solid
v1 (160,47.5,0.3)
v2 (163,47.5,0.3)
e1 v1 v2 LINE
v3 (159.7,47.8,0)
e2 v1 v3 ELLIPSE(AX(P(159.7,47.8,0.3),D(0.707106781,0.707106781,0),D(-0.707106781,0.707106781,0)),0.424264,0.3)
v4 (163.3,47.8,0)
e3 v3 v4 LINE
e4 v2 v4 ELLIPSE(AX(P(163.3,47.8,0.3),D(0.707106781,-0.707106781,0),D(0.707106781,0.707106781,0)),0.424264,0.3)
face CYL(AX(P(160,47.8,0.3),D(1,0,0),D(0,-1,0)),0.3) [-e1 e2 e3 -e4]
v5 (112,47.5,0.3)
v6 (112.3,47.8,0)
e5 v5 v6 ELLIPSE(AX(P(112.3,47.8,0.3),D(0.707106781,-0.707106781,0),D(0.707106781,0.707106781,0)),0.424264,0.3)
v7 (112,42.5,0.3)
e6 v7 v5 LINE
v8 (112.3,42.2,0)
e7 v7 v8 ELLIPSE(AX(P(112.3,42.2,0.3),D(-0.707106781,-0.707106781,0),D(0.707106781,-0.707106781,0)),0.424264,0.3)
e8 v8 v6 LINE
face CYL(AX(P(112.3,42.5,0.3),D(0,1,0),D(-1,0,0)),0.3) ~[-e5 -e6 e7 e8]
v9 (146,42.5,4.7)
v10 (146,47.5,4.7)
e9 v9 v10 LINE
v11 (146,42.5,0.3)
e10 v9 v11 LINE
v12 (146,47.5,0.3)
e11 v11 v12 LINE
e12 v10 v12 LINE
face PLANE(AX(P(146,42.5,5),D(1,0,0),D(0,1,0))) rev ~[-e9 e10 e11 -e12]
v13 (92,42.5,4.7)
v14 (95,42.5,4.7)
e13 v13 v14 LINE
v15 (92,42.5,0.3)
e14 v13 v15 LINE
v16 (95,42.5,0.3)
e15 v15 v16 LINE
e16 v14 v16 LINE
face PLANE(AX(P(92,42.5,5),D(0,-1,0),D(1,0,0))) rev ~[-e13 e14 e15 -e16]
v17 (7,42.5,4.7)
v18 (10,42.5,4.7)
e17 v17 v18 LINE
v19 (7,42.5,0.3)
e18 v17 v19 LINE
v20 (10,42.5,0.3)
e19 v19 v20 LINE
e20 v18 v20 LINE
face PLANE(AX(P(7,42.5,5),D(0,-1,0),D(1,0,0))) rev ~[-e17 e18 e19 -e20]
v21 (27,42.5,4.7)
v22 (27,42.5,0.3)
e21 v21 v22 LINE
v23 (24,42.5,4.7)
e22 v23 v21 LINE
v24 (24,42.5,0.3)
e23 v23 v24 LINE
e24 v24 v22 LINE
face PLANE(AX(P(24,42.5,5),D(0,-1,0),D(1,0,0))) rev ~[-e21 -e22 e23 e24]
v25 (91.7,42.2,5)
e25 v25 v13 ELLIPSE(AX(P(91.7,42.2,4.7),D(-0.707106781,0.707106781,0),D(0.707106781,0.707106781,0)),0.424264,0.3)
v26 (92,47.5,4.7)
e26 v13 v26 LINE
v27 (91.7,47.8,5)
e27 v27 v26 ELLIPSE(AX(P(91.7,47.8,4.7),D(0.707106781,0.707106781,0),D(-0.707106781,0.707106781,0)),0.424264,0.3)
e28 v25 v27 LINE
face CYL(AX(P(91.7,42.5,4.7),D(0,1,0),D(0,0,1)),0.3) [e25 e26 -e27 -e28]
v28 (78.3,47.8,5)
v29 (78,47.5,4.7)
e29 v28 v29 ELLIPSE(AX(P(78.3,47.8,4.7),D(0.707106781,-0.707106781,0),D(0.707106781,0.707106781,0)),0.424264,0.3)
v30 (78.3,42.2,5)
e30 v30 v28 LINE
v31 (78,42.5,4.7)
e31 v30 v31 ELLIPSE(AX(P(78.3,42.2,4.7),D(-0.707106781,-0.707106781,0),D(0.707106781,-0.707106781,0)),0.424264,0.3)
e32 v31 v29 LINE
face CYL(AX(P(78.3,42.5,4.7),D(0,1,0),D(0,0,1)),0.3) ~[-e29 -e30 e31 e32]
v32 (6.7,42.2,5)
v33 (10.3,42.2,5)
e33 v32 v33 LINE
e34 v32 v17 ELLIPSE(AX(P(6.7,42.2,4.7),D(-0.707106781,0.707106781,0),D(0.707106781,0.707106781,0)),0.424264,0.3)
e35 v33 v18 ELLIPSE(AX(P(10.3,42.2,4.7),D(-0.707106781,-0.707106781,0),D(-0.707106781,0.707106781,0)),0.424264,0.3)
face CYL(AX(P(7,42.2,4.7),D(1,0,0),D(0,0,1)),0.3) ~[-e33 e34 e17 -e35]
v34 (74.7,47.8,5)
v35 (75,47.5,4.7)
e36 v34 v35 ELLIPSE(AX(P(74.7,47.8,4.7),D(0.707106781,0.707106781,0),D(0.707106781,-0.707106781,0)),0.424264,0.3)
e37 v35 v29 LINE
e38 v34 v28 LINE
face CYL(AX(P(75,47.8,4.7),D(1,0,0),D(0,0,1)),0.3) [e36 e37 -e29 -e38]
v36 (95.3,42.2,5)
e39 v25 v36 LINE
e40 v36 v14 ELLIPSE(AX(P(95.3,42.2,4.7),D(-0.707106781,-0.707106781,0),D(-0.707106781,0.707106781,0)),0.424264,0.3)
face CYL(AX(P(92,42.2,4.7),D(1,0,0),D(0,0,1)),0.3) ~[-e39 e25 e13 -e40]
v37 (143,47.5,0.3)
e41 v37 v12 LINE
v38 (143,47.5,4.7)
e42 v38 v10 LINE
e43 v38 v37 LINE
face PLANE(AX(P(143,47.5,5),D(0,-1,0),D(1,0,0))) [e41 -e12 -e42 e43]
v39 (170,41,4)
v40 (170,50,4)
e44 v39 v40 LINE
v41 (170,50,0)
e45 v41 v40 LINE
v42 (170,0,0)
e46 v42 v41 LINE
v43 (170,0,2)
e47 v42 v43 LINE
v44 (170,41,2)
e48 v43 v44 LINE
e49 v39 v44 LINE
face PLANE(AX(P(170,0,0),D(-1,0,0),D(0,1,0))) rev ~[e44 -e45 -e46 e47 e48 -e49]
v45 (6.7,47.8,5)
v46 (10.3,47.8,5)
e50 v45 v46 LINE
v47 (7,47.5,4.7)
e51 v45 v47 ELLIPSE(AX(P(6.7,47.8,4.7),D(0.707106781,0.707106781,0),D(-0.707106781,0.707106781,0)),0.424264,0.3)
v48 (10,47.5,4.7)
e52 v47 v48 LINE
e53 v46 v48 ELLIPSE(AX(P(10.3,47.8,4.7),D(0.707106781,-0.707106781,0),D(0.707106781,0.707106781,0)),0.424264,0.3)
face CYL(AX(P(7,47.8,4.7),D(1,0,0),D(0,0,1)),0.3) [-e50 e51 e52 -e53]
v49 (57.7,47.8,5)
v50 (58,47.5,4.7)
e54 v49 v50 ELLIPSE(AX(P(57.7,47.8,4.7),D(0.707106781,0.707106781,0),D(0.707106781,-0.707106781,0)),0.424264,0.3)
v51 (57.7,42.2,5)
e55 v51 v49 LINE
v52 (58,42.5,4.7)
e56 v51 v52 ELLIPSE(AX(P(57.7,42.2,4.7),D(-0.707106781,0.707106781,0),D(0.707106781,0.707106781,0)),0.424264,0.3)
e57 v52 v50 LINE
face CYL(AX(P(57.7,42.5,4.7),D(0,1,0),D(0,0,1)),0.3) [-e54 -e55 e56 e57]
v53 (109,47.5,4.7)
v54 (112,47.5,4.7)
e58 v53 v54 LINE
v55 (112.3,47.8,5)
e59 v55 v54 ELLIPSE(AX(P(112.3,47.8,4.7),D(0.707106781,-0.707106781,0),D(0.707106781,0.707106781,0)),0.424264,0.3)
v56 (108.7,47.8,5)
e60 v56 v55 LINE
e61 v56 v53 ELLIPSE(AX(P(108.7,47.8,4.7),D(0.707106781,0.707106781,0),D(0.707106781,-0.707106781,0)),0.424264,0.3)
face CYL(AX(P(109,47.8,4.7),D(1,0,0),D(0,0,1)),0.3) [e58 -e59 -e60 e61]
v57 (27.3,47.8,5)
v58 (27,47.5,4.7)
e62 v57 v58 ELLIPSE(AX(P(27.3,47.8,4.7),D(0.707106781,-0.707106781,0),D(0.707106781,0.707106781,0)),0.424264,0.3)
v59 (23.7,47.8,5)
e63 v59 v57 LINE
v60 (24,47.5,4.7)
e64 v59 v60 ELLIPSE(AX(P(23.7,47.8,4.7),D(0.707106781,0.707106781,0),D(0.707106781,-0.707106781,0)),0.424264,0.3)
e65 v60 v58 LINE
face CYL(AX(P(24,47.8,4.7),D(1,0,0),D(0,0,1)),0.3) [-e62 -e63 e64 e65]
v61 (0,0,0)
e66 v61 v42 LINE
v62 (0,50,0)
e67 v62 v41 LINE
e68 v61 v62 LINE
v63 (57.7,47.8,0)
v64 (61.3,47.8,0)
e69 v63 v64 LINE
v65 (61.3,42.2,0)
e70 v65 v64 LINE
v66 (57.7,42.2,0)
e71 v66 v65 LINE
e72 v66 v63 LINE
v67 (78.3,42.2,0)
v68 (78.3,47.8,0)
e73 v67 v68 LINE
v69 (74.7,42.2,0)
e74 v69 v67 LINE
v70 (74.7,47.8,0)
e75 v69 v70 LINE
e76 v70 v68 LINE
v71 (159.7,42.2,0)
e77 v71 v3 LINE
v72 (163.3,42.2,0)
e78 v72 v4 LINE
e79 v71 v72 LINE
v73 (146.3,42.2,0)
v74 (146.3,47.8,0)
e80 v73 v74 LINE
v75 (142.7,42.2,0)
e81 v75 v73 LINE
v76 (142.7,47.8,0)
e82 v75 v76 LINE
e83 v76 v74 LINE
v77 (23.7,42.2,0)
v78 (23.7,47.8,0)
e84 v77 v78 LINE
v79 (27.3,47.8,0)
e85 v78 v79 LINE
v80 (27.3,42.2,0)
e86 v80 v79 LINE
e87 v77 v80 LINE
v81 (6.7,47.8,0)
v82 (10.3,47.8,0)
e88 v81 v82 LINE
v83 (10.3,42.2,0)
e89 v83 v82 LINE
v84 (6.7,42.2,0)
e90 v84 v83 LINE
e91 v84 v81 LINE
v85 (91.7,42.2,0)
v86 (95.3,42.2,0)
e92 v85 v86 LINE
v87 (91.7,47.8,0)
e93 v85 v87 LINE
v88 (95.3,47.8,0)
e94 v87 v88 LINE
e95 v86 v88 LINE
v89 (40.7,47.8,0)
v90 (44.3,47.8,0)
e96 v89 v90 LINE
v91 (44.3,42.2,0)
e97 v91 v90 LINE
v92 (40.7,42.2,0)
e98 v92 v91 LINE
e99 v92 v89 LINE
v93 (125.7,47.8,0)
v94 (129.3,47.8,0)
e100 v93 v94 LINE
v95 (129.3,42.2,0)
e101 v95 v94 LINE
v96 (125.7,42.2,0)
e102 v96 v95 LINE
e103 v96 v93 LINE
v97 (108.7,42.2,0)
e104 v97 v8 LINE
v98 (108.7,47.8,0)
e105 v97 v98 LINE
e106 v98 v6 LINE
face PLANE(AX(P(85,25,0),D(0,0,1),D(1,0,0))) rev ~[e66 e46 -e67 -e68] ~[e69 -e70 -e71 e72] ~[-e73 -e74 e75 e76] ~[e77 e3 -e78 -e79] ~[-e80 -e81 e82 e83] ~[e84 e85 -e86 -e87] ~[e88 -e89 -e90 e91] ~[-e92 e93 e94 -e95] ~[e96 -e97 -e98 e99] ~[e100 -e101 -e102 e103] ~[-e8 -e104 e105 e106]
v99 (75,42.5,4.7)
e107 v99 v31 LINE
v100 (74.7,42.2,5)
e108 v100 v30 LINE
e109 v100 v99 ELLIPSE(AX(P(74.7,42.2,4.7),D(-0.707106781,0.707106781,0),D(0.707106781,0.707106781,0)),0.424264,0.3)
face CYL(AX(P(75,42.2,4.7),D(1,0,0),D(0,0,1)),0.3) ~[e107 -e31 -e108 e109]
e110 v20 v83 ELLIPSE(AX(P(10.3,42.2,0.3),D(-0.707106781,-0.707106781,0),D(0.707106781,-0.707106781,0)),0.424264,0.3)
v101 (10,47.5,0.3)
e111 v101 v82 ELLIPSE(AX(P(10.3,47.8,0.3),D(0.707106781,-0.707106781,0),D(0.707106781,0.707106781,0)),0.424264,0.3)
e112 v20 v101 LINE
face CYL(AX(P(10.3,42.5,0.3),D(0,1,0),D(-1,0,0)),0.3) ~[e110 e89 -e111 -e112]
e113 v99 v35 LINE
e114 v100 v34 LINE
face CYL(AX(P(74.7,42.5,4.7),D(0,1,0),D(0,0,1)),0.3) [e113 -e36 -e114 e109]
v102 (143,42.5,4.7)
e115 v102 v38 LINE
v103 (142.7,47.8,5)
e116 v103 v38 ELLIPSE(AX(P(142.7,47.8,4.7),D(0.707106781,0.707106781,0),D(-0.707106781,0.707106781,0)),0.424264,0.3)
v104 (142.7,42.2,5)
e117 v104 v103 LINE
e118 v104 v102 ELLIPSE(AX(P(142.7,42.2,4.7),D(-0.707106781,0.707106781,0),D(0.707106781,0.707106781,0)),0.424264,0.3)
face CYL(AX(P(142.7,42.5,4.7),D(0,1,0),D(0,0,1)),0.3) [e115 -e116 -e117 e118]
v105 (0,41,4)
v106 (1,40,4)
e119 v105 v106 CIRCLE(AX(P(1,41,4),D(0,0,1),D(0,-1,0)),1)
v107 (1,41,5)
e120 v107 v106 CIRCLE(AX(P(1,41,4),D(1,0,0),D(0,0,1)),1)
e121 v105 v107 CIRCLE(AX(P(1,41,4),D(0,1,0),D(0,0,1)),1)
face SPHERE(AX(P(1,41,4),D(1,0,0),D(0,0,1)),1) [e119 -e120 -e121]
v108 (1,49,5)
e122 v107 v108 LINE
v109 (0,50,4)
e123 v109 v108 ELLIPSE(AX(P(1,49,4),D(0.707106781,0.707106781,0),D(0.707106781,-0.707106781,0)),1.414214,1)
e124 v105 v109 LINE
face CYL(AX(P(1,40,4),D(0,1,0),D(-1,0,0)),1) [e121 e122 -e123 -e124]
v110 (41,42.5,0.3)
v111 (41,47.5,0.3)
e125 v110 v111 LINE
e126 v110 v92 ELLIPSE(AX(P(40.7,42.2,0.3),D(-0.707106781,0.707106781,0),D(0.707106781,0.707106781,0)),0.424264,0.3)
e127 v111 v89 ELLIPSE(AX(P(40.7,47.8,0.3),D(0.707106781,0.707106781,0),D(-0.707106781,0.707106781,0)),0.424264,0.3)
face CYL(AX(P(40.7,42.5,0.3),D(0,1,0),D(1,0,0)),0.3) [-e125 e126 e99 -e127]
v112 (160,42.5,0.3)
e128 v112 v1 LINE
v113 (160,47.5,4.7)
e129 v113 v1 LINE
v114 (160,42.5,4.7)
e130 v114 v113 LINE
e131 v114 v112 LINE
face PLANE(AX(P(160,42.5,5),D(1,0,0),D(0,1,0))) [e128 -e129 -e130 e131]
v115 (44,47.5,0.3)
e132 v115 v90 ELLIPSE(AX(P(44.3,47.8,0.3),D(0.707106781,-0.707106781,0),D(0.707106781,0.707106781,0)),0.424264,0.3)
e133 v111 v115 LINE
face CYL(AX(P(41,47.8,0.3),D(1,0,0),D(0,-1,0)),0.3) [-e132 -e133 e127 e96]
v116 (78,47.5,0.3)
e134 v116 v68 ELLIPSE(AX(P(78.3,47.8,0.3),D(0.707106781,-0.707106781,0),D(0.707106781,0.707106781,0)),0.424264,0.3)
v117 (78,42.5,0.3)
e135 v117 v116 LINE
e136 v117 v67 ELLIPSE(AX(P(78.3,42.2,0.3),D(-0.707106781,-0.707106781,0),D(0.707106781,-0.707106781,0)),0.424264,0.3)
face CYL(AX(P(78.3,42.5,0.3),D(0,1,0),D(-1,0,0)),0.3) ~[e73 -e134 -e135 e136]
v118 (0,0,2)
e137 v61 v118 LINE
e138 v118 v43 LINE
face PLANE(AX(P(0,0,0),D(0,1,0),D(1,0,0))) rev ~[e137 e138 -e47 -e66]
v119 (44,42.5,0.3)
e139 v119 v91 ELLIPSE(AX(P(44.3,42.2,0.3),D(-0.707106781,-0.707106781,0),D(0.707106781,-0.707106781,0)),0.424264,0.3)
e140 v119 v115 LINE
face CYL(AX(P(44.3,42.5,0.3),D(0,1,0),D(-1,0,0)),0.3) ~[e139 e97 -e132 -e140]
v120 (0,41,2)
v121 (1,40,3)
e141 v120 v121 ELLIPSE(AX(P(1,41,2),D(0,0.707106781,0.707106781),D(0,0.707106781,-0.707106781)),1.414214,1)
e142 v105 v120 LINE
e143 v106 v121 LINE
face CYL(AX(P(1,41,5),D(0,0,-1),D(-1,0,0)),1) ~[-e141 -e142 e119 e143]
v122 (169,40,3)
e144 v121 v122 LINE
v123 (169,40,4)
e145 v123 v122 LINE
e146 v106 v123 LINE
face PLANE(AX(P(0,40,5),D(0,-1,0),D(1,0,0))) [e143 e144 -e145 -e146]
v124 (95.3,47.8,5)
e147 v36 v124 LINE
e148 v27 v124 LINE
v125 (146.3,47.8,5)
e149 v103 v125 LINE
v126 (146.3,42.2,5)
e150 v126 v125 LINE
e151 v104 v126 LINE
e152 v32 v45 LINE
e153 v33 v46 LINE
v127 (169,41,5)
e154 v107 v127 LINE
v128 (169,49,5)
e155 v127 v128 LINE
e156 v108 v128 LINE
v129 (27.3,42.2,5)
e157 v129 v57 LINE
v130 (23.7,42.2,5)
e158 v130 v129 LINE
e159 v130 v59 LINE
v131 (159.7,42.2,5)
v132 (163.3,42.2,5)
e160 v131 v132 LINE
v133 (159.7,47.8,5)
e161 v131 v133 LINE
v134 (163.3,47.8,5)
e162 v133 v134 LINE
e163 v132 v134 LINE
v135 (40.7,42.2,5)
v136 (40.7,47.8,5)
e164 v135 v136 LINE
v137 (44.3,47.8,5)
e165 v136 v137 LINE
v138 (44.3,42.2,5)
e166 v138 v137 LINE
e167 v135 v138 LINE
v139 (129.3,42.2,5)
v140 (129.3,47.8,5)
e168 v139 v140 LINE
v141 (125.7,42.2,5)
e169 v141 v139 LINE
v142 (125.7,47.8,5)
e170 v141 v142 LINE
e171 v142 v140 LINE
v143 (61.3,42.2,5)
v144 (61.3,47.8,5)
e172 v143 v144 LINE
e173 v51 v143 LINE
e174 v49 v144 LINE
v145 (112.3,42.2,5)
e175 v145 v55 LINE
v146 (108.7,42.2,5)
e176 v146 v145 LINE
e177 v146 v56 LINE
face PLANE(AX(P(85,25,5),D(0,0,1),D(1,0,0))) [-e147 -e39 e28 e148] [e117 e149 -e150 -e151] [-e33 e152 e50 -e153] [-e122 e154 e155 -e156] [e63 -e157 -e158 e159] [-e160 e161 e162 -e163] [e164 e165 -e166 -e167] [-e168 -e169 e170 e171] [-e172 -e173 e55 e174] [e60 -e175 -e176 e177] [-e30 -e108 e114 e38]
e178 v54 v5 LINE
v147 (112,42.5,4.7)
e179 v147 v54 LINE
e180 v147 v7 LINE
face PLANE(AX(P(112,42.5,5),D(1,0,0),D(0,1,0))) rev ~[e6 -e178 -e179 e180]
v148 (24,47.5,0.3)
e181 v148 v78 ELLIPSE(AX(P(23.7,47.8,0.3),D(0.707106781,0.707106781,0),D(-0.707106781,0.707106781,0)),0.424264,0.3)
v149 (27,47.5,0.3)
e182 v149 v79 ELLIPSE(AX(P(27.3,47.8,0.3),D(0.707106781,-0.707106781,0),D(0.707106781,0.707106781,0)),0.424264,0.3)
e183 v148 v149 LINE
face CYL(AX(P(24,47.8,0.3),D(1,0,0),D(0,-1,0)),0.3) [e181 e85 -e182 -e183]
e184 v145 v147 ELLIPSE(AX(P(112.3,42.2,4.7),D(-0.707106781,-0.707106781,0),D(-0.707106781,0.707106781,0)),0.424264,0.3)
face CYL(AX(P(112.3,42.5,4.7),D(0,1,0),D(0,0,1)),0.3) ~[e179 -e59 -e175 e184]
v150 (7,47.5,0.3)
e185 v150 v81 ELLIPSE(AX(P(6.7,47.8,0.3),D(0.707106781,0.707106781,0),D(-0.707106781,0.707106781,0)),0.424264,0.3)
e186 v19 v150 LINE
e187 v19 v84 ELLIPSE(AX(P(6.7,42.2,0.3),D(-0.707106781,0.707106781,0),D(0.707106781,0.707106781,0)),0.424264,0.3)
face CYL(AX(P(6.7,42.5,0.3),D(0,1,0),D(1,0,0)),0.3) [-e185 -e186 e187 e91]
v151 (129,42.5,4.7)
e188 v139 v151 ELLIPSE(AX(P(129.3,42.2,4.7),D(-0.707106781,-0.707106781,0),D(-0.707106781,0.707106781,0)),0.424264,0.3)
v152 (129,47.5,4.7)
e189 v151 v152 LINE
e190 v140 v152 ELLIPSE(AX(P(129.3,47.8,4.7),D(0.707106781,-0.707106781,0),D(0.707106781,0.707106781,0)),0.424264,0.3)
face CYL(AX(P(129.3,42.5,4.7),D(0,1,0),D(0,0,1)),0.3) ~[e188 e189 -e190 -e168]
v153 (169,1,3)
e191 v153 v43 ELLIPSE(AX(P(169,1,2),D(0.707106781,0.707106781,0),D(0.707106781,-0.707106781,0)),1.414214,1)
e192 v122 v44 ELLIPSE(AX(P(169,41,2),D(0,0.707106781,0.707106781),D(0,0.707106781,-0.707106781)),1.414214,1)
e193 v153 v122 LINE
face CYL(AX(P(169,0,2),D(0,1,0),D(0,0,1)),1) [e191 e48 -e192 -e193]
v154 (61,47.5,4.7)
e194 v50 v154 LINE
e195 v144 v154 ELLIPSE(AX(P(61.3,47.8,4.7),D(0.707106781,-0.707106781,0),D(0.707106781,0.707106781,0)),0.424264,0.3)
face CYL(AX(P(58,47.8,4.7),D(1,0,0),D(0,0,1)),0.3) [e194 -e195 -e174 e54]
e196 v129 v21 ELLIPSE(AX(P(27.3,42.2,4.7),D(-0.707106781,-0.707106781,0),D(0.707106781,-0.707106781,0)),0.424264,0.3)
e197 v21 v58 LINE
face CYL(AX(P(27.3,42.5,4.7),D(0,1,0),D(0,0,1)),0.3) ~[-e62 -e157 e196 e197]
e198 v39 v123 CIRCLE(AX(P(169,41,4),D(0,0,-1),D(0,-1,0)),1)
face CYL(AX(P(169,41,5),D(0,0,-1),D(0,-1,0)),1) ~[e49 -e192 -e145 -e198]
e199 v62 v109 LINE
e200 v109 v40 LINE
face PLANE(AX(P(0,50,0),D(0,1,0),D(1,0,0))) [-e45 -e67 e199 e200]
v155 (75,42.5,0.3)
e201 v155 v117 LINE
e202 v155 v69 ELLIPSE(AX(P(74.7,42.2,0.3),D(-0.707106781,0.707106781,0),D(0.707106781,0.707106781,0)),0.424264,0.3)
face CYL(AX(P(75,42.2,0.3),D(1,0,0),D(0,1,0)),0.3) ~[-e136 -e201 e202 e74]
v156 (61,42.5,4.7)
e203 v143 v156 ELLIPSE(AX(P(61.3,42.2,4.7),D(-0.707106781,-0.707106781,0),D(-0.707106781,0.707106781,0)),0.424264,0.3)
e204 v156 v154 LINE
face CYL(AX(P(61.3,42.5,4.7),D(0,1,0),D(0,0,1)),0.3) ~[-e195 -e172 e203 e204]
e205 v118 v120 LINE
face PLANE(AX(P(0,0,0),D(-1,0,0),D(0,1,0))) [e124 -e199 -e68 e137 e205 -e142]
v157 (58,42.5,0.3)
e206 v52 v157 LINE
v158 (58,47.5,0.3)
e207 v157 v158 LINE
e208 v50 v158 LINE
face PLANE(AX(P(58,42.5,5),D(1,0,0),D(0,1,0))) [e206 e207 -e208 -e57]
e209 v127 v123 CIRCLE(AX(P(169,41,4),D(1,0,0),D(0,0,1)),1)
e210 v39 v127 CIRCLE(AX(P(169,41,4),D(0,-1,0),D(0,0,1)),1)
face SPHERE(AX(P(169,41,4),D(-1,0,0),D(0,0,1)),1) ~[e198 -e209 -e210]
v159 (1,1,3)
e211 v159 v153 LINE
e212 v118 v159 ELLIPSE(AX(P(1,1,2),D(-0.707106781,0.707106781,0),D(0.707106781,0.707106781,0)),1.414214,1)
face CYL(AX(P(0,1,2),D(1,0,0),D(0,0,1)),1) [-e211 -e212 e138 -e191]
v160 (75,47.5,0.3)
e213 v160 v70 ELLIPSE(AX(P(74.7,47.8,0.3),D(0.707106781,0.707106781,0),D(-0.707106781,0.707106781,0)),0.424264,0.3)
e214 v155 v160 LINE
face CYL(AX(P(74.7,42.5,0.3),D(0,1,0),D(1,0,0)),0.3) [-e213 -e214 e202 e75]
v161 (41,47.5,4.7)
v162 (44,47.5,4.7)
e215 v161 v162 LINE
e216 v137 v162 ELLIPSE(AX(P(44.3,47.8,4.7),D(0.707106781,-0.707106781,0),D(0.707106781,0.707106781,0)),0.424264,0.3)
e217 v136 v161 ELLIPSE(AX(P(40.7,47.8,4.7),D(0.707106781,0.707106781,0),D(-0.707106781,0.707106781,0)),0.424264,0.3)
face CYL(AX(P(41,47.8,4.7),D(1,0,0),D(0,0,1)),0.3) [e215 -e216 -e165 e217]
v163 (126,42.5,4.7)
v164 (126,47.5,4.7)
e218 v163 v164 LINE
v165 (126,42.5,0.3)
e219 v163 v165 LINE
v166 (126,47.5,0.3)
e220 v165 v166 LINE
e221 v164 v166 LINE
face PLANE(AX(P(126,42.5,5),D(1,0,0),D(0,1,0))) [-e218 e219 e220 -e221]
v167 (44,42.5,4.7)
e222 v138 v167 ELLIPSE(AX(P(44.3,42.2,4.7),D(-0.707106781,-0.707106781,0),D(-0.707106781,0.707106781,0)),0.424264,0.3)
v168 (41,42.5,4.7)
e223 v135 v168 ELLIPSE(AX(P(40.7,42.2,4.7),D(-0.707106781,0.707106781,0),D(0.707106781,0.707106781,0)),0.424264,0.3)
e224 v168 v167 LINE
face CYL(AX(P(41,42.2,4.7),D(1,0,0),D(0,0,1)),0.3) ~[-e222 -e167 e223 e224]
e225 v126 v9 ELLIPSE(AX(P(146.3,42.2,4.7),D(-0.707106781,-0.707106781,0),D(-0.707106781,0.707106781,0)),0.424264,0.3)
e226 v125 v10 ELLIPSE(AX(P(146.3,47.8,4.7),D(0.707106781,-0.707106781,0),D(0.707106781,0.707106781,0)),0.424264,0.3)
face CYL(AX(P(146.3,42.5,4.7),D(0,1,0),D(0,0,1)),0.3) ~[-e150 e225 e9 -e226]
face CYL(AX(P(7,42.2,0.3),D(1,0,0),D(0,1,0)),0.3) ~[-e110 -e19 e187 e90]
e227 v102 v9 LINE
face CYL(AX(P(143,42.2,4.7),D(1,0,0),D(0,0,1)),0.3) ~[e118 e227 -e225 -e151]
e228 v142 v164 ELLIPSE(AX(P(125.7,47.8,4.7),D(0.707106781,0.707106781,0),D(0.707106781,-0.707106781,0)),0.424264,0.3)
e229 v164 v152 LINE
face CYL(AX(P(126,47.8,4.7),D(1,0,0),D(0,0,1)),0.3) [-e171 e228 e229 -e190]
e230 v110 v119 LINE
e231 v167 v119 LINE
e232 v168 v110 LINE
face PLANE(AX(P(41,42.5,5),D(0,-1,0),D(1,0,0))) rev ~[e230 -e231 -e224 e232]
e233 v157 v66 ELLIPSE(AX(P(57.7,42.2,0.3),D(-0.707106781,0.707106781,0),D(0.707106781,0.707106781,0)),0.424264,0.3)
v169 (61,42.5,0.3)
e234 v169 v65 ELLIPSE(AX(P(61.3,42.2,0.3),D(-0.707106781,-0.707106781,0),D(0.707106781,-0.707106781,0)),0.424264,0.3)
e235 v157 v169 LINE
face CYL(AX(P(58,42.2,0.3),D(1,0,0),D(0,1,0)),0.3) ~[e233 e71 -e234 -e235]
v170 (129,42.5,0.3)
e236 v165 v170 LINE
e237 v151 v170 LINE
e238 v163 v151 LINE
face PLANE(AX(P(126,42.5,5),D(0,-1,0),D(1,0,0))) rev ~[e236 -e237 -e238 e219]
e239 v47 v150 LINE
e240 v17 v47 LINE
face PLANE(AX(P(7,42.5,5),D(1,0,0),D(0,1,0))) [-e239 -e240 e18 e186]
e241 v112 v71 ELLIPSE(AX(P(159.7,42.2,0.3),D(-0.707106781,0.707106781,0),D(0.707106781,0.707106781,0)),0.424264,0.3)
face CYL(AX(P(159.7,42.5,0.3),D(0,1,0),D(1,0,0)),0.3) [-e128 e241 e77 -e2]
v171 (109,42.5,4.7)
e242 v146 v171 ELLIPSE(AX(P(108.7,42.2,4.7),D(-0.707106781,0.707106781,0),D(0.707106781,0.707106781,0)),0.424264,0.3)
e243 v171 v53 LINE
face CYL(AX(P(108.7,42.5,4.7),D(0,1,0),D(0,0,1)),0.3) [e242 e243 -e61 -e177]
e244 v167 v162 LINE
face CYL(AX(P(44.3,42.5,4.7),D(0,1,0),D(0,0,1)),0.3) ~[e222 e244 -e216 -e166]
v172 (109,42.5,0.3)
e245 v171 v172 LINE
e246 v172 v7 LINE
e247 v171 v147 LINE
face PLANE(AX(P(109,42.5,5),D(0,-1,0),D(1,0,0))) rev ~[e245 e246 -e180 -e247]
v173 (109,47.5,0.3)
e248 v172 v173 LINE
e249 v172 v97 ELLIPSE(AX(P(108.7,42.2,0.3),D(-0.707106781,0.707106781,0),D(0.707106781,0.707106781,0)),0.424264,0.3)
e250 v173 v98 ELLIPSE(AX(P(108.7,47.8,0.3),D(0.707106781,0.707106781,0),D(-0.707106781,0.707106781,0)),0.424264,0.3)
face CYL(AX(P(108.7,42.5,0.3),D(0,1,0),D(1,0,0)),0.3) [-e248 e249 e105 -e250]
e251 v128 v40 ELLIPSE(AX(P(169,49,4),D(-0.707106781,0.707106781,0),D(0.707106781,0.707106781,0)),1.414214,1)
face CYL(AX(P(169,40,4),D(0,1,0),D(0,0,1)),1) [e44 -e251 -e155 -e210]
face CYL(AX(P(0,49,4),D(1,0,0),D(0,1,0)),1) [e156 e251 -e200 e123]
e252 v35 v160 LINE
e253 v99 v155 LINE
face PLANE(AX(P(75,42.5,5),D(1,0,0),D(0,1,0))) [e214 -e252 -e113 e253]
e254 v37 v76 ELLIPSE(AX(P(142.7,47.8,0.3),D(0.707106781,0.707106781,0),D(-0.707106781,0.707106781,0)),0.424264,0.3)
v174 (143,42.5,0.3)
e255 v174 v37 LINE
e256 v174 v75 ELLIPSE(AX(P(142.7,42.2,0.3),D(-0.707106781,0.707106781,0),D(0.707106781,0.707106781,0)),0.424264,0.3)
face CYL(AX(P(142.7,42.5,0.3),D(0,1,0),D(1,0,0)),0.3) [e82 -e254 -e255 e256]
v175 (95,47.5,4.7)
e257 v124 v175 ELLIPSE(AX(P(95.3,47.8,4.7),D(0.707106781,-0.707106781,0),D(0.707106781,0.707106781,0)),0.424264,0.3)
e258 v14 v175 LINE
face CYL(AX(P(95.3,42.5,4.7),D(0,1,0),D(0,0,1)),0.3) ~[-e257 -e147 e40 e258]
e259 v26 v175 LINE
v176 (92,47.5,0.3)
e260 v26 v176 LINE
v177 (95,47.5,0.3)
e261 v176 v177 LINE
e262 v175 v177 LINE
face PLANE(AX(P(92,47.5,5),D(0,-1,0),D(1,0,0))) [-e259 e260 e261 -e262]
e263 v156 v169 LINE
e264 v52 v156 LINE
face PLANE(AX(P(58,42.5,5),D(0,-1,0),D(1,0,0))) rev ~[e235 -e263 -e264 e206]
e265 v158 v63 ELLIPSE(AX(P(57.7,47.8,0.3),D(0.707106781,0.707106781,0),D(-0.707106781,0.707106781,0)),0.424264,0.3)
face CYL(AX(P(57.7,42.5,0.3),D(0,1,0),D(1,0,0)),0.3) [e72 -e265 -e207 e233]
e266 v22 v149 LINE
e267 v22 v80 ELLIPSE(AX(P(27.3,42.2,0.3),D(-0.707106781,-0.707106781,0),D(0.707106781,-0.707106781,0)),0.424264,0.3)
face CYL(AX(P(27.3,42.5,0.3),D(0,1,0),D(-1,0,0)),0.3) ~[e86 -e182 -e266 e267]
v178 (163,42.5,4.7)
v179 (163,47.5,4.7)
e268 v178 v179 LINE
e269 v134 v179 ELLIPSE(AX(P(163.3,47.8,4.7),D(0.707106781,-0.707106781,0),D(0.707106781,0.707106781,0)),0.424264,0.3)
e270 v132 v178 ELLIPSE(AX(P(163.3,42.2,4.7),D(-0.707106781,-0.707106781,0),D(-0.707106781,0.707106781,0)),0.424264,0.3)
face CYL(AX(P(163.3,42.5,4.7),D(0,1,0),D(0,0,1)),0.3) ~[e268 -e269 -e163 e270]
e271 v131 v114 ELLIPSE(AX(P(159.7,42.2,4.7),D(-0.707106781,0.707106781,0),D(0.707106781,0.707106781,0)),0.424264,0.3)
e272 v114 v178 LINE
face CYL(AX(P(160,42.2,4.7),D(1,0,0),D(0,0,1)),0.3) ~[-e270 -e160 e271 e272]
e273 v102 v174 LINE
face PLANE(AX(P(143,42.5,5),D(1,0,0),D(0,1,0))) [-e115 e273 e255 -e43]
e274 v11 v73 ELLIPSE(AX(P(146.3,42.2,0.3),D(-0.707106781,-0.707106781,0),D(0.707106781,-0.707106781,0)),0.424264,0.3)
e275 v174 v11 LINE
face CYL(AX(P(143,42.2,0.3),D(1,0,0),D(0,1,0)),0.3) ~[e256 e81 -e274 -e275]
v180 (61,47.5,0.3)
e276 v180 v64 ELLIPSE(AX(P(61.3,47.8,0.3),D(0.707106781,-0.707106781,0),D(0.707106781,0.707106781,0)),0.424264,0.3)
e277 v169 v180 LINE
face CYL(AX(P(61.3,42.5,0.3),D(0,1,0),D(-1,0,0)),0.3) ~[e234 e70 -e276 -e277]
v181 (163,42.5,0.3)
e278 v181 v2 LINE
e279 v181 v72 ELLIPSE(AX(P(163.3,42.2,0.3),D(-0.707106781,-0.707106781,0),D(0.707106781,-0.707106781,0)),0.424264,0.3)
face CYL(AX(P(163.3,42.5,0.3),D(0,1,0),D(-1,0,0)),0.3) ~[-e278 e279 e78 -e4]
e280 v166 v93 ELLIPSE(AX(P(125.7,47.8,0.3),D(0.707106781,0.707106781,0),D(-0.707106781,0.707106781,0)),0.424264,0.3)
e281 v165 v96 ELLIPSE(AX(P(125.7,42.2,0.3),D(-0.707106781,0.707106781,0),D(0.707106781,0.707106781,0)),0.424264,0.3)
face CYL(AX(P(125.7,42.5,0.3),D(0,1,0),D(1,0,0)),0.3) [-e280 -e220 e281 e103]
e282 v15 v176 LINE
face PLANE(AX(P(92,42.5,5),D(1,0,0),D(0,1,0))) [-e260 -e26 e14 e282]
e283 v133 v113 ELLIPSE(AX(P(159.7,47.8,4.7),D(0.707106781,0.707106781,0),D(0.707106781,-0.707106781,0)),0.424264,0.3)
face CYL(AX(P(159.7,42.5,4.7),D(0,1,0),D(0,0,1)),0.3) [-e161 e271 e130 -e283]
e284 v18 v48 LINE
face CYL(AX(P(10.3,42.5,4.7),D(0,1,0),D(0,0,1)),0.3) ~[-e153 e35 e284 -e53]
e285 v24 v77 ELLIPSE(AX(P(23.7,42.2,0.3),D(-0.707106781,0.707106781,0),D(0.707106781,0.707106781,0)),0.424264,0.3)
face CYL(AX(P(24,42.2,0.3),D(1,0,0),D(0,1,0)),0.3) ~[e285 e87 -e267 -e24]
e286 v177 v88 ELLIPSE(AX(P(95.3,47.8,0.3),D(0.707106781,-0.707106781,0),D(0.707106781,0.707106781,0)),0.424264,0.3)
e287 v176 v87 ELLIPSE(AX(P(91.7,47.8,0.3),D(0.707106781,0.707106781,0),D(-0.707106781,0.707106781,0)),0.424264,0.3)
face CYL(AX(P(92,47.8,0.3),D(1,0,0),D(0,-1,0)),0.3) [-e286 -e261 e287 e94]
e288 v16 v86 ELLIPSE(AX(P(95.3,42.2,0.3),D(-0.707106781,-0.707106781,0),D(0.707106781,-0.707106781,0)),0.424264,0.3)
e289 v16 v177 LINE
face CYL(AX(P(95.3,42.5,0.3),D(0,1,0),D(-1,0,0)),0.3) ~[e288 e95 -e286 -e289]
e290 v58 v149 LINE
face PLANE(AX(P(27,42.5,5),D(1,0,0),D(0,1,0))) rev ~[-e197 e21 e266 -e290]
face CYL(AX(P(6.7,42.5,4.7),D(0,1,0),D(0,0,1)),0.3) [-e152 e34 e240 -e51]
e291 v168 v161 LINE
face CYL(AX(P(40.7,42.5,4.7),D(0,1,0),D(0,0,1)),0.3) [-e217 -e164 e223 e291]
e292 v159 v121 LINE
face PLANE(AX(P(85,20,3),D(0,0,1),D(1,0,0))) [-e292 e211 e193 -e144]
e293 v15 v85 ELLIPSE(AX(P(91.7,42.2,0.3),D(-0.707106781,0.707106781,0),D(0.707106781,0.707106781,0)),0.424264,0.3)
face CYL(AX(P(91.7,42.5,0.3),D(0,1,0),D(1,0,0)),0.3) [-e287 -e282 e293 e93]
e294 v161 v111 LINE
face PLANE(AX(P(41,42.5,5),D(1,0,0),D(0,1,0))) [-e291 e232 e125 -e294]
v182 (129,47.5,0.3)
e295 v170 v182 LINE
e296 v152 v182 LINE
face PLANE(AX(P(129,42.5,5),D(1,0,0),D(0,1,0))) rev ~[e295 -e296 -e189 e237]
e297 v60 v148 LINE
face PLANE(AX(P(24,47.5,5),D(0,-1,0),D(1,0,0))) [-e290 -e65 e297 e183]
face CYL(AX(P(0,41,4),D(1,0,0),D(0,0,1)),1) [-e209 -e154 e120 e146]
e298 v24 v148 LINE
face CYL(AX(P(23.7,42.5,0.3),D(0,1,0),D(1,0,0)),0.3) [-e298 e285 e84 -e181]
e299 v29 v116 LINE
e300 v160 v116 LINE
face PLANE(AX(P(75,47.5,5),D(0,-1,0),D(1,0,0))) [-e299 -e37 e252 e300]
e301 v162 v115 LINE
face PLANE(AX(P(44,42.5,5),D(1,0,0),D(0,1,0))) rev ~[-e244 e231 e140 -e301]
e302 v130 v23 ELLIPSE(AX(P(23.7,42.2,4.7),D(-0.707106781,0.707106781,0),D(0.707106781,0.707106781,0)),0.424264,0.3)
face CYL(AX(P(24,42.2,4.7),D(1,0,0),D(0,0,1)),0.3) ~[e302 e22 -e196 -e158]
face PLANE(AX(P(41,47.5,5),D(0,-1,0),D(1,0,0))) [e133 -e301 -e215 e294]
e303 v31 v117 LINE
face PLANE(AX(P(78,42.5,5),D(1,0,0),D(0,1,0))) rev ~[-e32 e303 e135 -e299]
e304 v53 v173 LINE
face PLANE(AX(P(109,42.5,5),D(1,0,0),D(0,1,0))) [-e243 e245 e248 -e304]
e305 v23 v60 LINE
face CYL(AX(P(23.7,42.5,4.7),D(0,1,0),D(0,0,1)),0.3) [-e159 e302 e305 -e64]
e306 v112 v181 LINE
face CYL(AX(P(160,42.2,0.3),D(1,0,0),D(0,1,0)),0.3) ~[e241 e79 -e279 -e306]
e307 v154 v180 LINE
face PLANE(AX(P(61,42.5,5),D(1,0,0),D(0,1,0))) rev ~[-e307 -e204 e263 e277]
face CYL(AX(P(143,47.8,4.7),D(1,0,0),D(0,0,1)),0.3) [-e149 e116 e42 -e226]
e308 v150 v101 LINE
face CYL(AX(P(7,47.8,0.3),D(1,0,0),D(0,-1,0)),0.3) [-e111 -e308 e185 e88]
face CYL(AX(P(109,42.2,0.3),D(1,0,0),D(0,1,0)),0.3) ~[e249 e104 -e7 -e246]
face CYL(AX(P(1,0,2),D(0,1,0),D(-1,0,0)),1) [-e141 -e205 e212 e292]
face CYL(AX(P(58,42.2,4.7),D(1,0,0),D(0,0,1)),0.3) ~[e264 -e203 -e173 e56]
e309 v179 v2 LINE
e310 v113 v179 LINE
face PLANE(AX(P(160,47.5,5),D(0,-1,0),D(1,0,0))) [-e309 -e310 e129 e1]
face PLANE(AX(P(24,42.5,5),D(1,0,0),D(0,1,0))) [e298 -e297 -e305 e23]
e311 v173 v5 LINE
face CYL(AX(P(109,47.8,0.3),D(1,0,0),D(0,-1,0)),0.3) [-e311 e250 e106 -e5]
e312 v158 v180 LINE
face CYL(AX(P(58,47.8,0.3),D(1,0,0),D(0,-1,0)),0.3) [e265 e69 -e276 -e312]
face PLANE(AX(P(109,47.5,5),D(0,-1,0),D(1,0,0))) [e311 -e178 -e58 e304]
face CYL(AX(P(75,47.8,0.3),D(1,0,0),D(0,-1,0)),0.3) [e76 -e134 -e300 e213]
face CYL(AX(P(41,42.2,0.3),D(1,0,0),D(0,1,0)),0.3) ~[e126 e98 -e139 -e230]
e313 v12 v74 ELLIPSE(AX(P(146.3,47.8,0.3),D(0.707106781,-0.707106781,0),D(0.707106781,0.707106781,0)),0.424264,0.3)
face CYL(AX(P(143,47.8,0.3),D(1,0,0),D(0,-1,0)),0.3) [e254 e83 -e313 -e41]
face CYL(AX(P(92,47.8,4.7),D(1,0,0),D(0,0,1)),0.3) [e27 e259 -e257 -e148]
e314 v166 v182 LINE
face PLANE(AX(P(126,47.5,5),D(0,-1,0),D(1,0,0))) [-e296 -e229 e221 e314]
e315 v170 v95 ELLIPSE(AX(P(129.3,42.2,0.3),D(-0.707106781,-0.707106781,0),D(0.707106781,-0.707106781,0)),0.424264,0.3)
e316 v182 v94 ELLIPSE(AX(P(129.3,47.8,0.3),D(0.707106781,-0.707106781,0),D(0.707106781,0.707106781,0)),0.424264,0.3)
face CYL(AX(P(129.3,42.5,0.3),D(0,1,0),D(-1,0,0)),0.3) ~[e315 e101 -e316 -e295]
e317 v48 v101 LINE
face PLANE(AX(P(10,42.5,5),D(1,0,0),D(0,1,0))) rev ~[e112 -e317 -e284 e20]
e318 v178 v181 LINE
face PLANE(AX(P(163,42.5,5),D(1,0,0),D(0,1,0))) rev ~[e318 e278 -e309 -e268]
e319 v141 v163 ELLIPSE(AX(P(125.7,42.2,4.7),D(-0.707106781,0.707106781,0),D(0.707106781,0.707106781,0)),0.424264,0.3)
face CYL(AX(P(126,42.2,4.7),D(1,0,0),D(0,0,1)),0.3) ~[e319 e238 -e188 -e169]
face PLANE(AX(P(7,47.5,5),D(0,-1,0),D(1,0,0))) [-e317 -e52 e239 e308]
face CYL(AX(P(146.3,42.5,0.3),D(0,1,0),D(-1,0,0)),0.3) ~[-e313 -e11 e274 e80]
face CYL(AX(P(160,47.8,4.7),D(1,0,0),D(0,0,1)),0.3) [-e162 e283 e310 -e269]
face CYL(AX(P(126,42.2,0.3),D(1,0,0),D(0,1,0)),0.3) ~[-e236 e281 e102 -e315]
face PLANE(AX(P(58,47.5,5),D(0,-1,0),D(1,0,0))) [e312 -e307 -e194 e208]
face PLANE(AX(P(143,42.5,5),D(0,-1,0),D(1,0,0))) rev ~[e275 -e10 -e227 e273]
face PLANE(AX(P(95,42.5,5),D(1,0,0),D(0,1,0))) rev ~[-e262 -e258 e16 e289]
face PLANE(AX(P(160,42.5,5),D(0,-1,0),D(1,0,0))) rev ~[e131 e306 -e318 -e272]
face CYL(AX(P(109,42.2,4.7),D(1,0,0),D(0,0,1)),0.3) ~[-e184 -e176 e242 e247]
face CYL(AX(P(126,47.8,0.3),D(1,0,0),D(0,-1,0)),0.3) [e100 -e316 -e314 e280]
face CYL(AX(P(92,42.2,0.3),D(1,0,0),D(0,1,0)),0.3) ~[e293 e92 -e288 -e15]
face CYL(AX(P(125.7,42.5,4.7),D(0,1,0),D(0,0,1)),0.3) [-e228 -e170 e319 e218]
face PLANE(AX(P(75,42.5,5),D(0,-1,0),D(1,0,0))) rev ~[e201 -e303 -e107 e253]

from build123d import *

# Parameters (mm, degrees)
SKETCH_W        = 170
SKETCH_H        = 50
PAD_DEPTH       = 5
SKETCH001_W     = 170
SKETCH001_H     = 40
POCKET_DEPTH    = 2
FILLET_R        = 1
SKETCH002_W     = 3
SKETCH002_H     = 5
POCKET001_DEPTH = 5.001
FILLET001_R     = 0.3
FILLET002_R     = 0.3


with BuildPart() as part:
    # Sketch → Pad (new body)
    with BuildSketch(Plane.XY):
        with Locations((85, 25)):
            Rectangle(SKETCH_W, SKETCH_H)
    extrude(amount=PAD_DEPTH)

    # Sketch001 (on Face6 of Pad) → Pocket (cut)
    with BuildSketch(Plane.XY.offset(5)):
        with Locations((85, 20)):
            Rectangle(SKETCH001_W, SKETCH001_H)
    extrude(amount=-POCKET_DEPTH, mode=Mode.SUBTRACT)

    # Fillet
    fillet_edges = [part.edges().sort_by_distance(p)[0] for p in [
        (0, 20, 3),
        (85, 0, 3),
        (170, 20, 3),
        (85, 40, 5),
        (170, 45, 5),
        (85, 50, 5),
        (0, 45, 5),
        (0, 40, 4),
        (170, 40, 4),
    ]]
    fillet(fillet_edges, radius=FILLET_R)

    # Sketch002 (on Face10 of Fillet) → Pocket001 (cut, through all)
    with BuildSketch(Plane.XY.offset(5)):
        with Locations((8.5, 45)):
            Rectangle(SKETCH002_W, SKETCH002_H)
        with Locations((25.5, 45)):
            Rectangle(SKETCH002_W, SKETCH002_H)
        with Locations((42.5, 45)):
            Rectangle(SKETCH002_W, SKETCH002_H)
        with Locations((161.5, 45)):
            Rectangle(SKETCH002_W, SKETCH002_H)
        with Locations((59.5, 45)):
            Rectangle(SKETCH002_W, SKETCH002_H)
        with Locations((76.5, 45)):
            Rectangle(SKETCH002_W, SKETCH002_H)
        with Locations((93.5, 45)):
            Rectangle(SKETCH002_W, SKETCH002_H)
        with Locations((110.5, 45)):
            Rectangle(SKETCH002_W, SKETCH002_H)
        with Locations((127.5, 45)):
            Rectangle(SKETCH002_W, SKETCH002_H)
        with Locations((144.5, 45)):
            Rectangle(SKETCH002_W, SKETCH002_H)
    extrude(amount=-POCKET001_DEPTH, mode=Mode.SUBTRACT)

    # Fillet001
    fillet001_edges = [part.edges().sort_by_distance(p)[0] for p in [
        (10, 45, 5),
        (8.5, 42.5, 5),
        (7, 45, 5),
        (8.5, 47.5, 5),
        (25.5, 47.5, 5),
        (24, 45, 5),
        (25.5, 42.5, 5),
        (27, 45, 5),
        (41, 45, 5),
        (42.5, 47.5, 5),
        (44, 45, 5),
        (42.5, 42.5, 5),
        (59.5, 47.5, 5),
        (58, 45, 5),
        (61, 45, 5),
        (59.5, 42.5, 5),
        (76.5, 47.5, 5),
        (75, 45, 5),
        (76.5, 42.5, 5),
        (78, 45, 5),
        (92, 45, 5),
        (93.5, 47.5, 5),
        (95, 45, 5),
        (93.5, 42.5, 5),
        (110.5, 47.5, 5),
        (109, 45, 5),
        (112, 45, 5),
        (110.5, 42.5, 5),
        (127.5, 47.5, 5),
        (126, 45, 5),
        (129, 45, 5),
        (127.5, 42.5, 5),
        (143, 45, 5),
        (144.5, 47.5, 5),
        (146, 45, 5),
        (144.5, 42.5, 5),
        (161.5, 47.5, 5),
        (160, 45, 5),
        (163, 45, 5),
        (161.5, 42.5, 5),
    ]]
    fillet(fillet001_edges, radius=FILLET001_R)

    # Fillet002
    fillet002_edges = [part.edges().sort_by_distance(p)[0] for p in [
        (7, 45, 0),
        (8.5, 42.5, 0),
        (10, 45, 0),
        (8.5, 47.5, 0),
        (25.5, 42.5, 0),
        (24, 45, 0),
        (25.5, 47.5, 0),
        (27, 45, 0),
        (42.5, 42.5, 0),
        (41, 45, 0),
        (44, 45, 0),
        (42.5, 47.5, 0),
        (58, 45, 0),
        (59.5, 42.5, 0),
        (61, 45, 0),
        (59.5, 47.5, 0),
        (76.5, 42.5, 0),
        (75, 45, 0),
        (76.5, 47.5, 0),
        (78, 45, 0),
        (92, 45, 0),
        (93.5, 42.5, 0),
        (95, 45, 0),
        (93.5, 47.5, 0),
        (110.5, 42.5, 0),
        (109, 45, 0),
        (110.5, 47.5, 0),
        (112, 45, 0),
        (127.5, 42.5, 0),
        (126, 45, 0),
        (127.5, 47.5, 0),
        (129, 45, 0),
        (143, 45, 0),
        (144.5, 42.5, 0),
        (146, 45, 0),
        (144.5, 47.5, 0),
        (161.5, 42.5, 0),
        (160, 45, 0),
        (163, 45, 0),
        (161.5, 47.5, 0),
    ]]
    fillet(fillet002_edges, radius=FILLET002_R)


solid = part.part
